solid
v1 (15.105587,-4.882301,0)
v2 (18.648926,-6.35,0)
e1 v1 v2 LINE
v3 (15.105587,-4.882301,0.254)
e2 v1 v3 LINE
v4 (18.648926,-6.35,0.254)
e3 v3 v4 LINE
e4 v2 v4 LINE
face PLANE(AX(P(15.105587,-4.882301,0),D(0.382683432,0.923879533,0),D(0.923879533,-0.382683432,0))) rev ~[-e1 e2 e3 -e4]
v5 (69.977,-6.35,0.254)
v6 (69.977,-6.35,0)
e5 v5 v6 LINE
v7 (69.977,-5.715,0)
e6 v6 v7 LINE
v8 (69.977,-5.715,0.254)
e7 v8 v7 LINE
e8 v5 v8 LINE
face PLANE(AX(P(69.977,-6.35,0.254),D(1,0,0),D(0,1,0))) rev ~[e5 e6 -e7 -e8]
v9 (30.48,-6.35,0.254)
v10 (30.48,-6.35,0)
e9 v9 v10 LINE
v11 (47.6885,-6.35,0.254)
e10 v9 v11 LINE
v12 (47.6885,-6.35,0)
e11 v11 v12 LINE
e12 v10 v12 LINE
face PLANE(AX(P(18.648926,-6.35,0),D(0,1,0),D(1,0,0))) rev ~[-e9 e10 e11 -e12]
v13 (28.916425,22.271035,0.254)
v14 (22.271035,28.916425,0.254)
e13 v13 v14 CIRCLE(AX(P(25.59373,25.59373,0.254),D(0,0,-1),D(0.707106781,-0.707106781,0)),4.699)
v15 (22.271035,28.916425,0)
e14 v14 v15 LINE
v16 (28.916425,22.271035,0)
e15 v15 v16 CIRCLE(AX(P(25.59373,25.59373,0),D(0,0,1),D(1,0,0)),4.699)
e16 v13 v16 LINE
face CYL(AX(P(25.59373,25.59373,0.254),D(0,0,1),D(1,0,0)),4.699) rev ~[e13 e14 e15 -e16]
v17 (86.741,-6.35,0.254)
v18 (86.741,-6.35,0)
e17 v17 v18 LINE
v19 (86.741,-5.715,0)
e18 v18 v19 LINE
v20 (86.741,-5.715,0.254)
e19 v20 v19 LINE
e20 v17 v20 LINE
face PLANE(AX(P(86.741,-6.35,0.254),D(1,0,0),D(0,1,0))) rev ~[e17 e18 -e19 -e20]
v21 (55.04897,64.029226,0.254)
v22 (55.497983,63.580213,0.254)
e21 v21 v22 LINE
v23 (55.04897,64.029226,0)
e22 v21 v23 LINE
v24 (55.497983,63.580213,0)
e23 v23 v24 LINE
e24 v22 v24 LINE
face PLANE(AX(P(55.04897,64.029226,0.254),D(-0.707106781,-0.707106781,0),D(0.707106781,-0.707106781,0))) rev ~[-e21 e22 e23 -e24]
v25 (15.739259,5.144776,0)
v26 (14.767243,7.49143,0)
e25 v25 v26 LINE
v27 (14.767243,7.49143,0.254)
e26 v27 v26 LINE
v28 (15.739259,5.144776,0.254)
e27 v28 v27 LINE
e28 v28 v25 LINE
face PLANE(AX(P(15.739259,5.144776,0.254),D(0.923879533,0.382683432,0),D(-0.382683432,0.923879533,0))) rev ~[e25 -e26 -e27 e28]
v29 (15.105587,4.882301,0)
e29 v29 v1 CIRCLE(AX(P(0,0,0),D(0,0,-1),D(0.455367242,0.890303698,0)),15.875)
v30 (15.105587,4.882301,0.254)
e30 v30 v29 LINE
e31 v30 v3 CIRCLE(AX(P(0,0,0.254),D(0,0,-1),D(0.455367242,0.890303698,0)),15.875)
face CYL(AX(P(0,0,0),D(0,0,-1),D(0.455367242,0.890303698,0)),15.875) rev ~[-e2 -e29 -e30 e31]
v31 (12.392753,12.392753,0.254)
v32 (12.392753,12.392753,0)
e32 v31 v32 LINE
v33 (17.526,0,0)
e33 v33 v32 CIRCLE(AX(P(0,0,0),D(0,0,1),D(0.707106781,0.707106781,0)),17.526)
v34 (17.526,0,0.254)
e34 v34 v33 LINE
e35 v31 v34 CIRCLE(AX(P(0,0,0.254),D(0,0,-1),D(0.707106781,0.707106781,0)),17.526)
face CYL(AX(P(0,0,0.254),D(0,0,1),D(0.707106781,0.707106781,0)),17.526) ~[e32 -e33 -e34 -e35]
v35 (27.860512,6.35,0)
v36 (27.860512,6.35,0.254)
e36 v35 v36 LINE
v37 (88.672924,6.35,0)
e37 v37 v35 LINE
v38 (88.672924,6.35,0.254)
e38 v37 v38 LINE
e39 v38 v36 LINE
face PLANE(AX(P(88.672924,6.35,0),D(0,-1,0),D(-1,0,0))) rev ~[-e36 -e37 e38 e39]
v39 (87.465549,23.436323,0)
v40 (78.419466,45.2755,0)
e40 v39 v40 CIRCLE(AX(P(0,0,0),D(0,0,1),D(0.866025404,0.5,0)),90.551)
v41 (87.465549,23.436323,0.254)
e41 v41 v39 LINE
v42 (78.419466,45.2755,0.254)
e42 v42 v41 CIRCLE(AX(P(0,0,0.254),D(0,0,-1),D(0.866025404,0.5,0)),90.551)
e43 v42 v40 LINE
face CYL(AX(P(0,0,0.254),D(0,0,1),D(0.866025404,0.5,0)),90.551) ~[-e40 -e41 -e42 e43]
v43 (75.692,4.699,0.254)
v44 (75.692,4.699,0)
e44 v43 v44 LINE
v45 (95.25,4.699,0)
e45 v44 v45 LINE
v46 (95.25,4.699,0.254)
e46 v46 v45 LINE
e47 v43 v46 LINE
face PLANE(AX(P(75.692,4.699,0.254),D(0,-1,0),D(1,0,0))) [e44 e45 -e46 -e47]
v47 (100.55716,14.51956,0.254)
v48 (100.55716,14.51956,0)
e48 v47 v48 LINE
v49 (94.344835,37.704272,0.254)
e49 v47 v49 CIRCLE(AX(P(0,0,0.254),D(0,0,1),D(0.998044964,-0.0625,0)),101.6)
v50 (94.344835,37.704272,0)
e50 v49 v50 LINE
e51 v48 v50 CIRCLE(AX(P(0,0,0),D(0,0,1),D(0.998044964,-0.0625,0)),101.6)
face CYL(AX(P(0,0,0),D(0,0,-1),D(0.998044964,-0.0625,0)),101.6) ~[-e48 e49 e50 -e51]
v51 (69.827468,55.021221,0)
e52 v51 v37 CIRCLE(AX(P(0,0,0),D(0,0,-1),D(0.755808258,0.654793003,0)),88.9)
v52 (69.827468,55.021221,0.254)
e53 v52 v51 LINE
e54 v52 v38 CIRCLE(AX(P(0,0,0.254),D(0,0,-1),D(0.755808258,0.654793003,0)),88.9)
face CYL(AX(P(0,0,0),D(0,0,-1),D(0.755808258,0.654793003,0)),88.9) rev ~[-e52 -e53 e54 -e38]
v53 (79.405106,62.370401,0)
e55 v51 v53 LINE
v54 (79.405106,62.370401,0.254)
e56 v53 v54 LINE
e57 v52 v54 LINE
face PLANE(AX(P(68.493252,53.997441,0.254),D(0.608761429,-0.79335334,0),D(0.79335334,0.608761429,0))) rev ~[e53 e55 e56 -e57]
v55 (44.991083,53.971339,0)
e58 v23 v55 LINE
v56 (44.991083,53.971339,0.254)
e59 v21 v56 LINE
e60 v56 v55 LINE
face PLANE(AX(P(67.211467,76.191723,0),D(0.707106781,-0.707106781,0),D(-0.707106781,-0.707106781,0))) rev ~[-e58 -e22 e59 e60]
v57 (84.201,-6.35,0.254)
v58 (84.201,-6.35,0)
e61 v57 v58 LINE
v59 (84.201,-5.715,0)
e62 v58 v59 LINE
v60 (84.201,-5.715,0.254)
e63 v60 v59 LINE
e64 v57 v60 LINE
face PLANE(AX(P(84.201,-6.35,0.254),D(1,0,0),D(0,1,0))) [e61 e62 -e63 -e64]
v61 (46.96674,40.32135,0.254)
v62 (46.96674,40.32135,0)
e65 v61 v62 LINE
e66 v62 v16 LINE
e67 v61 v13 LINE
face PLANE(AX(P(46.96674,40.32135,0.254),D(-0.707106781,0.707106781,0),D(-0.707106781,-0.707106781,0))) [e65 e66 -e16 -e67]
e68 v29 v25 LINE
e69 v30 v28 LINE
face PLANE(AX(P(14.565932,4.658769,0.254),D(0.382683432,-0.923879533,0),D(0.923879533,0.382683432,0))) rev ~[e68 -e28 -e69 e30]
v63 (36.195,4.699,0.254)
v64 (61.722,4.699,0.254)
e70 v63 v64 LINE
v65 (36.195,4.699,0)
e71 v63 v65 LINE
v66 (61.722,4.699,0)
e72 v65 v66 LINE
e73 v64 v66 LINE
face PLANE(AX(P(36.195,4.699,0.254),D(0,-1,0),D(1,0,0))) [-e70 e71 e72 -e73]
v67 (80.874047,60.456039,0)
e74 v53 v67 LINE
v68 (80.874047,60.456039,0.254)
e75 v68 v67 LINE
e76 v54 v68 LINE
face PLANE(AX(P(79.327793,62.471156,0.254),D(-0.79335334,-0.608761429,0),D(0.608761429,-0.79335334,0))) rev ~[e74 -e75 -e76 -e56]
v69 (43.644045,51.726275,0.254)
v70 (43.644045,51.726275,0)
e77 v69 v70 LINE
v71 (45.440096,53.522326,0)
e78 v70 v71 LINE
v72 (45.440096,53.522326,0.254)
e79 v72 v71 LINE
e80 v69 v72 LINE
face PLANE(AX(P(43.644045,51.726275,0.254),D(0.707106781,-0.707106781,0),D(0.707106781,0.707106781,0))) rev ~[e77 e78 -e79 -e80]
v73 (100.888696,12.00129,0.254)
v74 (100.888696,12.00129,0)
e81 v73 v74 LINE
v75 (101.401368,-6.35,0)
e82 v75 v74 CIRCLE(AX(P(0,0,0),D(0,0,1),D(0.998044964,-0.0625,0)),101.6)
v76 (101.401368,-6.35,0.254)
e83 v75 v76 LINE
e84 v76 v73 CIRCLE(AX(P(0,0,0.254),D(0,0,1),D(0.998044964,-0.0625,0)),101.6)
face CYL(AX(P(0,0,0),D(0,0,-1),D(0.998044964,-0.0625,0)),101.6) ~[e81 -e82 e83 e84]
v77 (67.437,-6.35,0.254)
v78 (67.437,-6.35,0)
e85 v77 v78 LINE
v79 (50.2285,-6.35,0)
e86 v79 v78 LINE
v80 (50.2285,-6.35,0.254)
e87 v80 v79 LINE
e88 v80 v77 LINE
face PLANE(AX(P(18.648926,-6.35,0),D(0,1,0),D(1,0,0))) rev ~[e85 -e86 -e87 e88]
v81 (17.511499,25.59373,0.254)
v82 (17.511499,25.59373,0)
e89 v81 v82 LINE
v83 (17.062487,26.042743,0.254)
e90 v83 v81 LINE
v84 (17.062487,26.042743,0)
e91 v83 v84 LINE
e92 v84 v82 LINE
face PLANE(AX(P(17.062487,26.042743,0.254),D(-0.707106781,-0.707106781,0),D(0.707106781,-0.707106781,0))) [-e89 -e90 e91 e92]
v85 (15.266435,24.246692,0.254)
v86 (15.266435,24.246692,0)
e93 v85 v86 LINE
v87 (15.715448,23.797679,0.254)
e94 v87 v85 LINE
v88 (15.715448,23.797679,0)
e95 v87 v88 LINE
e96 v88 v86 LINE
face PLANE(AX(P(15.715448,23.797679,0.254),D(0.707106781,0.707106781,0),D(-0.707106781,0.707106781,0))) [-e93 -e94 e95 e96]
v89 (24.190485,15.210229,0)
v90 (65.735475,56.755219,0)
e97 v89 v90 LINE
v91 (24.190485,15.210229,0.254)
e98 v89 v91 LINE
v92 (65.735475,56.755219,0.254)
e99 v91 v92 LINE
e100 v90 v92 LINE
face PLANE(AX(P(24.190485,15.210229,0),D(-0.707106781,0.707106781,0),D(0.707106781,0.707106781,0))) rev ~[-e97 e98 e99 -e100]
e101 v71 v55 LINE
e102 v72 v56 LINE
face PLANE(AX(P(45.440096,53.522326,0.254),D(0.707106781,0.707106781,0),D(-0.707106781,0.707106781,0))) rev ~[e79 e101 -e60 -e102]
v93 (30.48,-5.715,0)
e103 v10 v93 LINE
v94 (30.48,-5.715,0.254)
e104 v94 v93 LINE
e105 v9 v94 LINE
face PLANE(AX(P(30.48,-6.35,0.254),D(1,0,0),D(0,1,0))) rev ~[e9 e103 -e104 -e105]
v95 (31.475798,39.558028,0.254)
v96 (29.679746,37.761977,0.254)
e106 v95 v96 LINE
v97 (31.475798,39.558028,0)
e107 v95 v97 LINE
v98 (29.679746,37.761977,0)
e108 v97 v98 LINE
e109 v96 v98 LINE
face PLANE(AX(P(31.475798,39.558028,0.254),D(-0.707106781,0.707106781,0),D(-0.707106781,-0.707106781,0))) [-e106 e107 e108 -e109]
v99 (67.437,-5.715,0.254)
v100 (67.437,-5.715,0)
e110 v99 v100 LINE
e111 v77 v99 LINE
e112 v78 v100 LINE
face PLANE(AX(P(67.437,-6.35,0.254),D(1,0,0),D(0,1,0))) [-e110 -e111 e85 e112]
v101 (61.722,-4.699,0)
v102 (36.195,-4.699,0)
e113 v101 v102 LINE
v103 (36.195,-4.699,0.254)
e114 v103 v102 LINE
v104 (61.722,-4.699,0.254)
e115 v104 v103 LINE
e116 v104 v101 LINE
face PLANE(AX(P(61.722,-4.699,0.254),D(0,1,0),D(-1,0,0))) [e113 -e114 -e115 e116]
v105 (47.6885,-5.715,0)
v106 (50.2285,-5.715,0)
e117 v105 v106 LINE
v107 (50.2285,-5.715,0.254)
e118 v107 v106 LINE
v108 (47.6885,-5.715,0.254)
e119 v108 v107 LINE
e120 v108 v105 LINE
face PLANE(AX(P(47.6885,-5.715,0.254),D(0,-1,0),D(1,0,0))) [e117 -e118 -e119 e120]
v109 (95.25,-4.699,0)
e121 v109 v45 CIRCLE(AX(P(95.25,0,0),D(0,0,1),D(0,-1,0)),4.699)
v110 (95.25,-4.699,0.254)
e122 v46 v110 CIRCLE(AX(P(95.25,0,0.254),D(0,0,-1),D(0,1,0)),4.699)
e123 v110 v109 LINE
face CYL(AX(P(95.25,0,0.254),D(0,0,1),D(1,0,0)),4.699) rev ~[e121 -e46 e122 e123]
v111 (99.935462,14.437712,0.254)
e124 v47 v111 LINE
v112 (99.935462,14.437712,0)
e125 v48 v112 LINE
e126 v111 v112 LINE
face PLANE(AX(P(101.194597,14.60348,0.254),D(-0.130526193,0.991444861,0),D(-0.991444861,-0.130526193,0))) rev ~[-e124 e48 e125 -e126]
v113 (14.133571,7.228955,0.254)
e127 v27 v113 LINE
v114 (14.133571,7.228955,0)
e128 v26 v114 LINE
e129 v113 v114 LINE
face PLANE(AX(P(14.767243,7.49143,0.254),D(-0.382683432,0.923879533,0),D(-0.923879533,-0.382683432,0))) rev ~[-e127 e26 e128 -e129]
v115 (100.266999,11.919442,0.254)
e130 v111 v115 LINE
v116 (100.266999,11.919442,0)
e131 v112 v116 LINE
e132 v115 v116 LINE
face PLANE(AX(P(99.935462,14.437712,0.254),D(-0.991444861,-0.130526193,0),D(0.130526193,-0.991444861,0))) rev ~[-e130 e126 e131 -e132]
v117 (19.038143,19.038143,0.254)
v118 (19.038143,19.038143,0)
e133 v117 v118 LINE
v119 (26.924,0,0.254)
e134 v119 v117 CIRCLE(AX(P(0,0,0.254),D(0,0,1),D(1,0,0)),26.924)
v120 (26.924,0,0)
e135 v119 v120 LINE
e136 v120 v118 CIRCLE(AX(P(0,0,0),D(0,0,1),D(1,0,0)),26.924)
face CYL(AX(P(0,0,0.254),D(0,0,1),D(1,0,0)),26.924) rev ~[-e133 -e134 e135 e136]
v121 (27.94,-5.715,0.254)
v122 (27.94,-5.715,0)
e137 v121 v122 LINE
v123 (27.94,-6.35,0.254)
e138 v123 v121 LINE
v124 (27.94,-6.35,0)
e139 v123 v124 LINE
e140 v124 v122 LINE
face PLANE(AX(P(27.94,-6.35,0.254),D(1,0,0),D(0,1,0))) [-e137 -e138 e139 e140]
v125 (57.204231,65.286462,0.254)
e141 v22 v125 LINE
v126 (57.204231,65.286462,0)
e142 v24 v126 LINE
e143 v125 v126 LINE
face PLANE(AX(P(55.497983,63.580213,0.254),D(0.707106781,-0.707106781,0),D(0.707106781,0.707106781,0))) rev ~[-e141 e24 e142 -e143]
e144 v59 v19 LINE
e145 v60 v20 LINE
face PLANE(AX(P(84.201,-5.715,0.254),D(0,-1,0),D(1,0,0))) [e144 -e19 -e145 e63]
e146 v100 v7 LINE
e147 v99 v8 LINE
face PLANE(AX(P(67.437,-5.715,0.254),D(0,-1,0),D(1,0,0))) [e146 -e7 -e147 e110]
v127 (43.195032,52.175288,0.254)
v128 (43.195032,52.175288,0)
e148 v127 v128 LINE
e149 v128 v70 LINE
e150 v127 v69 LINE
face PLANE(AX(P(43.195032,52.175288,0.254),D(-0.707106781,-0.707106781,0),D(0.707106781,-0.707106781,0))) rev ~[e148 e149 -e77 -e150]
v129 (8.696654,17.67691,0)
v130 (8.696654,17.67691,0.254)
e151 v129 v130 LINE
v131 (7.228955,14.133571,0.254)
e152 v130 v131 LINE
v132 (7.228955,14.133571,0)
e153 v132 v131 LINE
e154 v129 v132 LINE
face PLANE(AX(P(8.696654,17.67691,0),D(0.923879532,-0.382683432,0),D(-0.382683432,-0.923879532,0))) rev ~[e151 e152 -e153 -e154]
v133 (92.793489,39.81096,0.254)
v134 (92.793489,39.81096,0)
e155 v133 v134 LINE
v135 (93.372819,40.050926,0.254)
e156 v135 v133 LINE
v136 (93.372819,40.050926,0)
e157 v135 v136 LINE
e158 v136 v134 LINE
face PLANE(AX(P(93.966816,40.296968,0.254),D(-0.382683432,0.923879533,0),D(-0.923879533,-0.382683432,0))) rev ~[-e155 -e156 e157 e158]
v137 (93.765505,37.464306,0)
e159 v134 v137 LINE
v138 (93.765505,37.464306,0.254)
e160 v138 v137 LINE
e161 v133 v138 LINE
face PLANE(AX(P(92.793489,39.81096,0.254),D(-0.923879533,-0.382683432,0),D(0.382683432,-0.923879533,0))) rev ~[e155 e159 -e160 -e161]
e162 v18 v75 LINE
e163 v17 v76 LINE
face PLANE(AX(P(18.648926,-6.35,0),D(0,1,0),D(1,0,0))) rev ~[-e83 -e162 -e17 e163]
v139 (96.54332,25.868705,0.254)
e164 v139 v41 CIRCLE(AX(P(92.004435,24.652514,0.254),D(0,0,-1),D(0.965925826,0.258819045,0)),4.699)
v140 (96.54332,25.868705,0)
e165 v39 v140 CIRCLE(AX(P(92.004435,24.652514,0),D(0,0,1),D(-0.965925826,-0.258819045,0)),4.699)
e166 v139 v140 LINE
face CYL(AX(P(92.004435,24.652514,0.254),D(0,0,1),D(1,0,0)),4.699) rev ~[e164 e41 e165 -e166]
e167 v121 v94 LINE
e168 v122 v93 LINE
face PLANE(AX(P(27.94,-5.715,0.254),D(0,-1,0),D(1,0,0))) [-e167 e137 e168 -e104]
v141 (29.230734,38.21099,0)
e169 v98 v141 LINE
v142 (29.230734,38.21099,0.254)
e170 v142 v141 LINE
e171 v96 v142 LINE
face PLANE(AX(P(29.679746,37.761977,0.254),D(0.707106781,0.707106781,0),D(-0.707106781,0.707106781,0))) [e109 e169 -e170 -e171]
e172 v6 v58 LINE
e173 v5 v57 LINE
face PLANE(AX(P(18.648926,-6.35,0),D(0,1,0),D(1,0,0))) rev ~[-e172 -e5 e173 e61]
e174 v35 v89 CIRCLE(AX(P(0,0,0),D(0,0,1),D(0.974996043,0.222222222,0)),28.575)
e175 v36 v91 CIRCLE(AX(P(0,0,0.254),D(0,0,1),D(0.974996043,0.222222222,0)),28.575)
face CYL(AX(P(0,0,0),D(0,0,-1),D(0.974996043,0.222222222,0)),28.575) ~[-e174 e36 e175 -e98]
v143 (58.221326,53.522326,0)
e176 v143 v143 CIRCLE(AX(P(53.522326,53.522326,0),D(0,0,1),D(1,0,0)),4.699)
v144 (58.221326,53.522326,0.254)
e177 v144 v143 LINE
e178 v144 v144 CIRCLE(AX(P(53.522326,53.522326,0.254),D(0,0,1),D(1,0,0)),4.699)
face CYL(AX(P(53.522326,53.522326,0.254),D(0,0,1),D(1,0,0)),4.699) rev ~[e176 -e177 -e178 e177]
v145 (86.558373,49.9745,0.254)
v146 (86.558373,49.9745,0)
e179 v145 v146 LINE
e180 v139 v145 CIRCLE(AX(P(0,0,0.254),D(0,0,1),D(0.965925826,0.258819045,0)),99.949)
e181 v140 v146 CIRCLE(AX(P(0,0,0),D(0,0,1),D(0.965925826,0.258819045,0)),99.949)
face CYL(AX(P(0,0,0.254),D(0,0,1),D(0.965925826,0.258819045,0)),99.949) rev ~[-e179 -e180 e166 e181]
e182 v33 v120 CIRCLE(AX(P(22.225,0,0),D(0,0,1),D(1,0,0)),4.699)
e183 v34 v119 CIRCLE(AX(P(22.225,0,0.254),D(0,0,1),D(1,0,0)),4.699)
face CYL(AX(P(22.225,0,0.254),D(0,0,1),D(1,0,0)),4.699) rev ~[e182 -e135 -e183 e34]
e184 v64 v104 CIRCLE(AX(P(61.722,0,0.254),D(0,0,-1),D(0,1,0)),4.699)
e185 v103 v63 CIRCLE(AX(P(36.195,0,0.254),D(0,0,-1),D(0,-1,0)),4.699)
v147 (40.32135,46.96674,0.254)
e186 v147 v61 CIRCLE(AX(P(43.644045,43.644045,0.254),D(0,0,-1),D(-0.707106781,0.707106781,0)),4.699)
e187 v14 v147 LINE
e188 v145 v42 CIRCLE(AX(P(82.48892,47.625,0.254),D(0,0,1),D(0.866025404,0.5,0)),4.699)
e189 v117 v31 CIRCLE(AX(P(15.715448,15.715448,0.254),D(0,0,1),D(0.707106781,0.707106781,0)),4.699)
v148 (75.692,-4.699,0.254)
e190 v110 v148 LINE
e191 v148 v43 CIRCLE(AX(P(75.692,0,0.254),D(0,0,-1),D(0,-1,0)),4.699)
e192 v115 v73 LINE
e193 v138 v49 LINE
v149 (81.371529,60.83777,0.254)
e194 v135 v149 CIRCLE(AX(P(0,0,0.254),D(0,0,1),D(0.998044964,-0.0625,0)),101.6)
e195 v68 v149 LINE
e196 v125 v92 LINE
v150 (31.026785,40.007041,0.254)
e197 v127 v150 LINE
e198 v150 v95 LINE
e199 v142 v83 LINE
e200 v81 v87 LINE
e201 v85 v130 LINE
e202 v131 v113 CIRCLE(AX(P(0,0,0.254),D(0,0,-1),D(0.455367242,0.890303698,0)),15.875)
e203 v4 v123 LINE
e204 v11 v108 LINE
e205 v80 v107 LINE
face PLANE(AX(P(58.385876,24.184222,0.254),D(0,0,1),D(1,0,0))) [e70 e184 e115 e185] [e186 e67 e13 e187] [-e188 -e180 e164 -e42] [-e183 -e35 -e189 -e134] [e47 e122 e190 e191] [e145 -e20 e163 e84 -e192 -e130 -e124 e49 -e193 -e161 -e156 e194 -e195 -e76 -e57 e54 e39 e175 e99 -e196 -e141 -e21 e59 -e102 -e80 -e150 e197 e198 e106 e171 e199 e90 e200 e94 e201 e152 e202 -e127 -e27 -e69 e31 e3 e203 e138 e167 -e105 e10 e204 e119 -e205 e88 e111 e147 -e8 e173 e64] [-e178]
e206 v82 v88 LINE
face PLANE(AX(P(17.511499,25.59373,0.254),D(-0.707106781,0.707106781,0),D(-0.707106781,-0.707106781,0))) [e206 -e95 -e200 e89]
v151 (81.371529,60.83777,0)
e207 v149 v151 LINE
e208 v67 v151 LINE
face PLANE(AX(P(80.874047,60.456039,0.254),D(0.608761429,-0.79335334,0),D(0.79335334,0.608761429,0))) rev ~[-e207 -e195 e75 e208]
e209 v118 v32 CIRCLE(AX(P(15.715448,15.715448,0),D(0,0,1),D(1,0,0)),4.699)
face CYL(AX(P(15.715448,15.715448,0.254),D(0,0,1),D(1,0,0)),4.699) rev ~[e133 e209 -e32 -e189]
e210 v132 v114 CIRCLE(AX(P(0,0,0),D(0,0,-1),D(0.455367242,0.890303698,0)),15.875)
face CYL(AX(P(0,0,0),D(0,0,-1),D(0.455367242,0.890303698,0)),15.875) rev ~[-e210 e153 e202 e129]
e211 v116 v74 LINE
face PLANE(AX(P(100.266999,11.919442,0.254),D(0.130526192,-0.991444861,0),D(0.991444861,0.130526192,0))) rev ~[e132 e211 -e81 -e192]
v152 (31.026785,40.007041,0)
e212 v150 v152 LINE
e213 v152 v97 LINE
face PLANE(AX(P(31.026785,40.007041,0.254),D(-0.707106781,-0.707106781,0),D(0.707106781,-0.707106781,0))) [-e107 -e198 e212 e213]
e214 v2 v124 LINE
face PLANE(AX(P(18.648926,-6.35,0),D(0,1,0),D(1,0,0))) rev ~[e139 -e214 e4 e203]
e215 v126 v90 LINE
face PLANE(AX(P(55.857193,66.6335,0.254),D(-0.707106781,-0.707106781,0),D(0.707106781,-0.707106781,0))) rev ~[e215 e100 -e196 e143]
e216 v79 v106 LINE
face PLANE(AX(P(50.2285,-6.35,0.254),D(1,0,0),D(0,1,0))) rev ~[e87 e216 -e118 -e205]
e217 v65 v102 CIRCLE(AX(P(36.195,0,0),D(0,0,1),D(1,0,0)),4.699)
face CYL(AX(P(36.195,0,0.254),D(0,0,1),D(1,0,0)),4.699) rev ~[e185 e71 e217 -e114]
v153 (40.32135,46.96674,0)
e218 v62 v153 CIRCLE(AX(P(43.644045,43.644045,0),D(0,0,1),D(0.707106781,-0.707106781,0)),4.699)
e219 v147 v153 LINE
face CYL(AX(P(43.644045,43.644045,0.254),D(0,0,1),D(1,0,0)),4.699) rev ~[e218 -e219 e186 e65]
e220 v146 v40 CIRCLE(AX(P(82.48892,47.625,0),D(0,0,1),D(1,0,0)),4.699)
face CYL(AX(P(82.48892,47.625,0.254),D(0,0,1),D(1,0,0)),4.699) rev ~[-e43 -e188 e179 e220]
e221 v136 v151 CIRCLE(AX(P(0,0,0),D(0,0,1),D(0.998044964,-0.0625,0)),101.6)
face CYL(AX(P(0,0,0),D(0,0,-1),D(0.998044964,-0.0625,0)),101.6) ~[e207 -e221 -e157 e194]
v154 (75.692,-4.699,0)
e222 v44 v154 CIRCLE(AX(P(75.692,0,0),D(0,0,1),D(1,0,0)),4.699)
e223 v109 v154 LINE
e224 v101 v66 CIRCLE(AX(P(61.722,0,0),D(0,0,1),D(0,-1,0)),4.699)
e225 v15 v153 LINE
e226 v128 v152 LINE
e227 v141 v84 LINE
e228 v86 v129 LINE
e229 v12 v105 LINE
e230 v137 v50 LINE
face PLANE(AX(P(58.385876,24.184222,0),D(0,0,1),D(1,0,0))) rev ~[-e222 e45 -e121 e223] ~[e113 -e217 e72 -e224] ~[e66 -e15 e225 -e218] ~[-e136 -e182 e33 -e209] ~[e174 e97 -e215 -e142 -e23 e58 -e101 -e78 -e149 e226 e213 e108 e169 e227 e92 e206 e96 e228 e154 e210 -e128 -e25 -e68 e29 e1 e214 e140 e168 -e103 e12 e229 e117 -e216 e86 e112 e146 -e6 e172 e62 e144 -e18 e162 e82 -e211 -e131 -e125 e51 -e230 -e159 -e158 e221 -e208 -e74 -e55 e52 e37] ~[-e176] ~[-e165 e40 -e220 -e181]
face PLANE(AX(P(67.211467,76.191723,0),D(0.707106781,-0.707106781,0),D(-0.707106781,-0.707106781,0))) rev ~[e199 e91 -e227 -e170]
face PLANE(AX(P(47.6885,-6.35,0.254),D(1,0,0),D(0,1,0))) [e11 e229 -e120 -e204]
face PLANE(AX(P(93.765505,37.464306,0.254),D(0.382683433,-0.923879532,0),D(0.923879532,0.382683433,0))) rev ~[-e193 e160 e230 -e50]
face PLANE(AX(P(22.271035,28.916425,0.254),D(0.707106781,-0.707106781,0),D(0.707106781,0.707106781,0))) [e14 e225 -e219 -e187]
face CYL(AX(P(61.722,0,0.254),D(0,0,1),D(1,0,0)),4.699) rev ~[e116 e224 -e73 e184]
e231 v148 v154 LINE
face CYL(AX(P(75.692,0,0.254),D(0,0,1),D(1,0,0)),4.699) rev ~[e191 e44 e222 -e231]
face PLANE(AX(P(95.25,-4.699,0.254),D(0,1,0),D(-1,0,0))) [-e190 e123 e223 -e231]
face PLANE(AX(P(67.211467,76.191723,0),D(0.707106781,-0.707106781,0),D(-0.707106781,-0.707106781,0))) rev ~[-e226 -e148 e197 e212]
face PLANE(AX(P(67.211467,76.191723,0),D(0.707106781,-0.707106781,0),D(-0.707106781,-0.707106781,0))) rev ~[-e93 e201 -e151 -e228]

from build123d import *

# Parameters (mm, degrees)
BOSS_EXTRUDE1_DEPTH = 0.254
SKETCH2_R           = 4.699
CUT_EXTRUDE1_DEPTH  = 1.254
SKETCH3_W           = 2.54
SKETCH3_H           = 0.635
CUT_EXTRUDE2_DEPTH  = 1.254
CUT_EXTRUDE4_DEPTH  = 1.254
CUT_EXTRUDE5_DEPTH  = 1.254


with BuildPart() as part:
    # Sketch1 → Boss-Extrude1 (new body)
    with BuildSketch(Plane.XY):
        with BuildLine():
            Line((67.21146711, 76.191723231), (8.696654013, 17.676910134))
            Line((8.696654013, 17.676910134), (7.228954972, 14.133571205))
            ThreePointArc((7.228954972, 14.133571205), (14.666587579, 6.075099489), (15.105587123, -4.88230096))
            Line((15.105587123, -4.88230096), (18.648926052, -6.35))
            Line((18.648926052, -6.35), (101.401368334, -6.35))
            ThreePointArc((101.401368334, -6.35), (93.866160503, 38.880636728), (67.21146711, 76.191723231))
        make_face()
        with BuildLine():
            Line((88.672924278, 6.35), (27.86051193, 6.35))
            ThreePointArc((27.86051193, 6.35), (26.399857642, 10.93517908), (24.190484974, 15.210228852))
            Line((24.190484974, 15.210228852), (67.191354125, 58.211098004))
            ThreePointArc((67.191354125, 58.211098004), (82.13289044, 34.020557137), (88.672924278, 6.35))
        make_face(mode=Mode.SUBTRACT)
    extrude(amount=BOSS_EXTRUDE1_DEPTH)

    # Sketch2 → Cut-Extrude1 (cut, through all)
    with BuildSketch(Plane.XY.offset(0.254)):
        with Locations((22.225, 0)):
            Circle(SKETCH2_R)
        with Locations((36.195, 0)):
            Circle(SKETCH2_R)
        with Locations((61.722, 0)):
            Circle(SKETCH2_R)
        with Locations((75.692, 0)):
            Circle(SKETCH2_R)
        with Locations((95.25, 0)):
            Circle(SKETCH2_R)
        with Locations((15.715448212, 15.715448212)):
            Circle(SKETCH2_R)
        with Locations((25.593729945, 25.593729945)):
            Circle(SKETCH2_R)
        with Locations((43.644044748, 43.644044748)):
            Circle(SKETCH2_R)
        with Locations((53.522326482, 53.522326482)):
            Circle(SKETCH2_R)
        with Locations((92.004434954, 24.652514046)):
            Circle(SKETCH2_R)
        with Locations((82.48891971, 47.625)):
            Circle(SKETCH2_R)
        with Locations((67.351920908, 67.351920908)):
            Circle(SKETCH2_R)
    extrude(amount=-CUT_EXTRUDE1_DEPTH, mode=Mode.SUBTRACT)

    # Sketch3 → Cut-Extrude2 (cut, through all)
    with BuildSketch(Plane.XY.offset(0.254)):
        Polygon((15.266435406, 24.246691527), (17.06248663, 26.042742751), (17.511499436, 25.593729945), (15.715448212, 23.797678721), align=None)
        Polygon((44.991083167, 53.971339288), (43.195031942, 52.175288063), (43.644044748, 51.726275257), (45.440095973, 53.522326482), align=None)
        with Locations((29.21, -6.0325)):
            Rectangle(SKETCH3_W, SKETCH3_H)
        with Locations((68.707, -6.0325)):
            Rectangle(SKETCH3_W, SKETCH3_H)
        Polygon((29.230733674, 38.210989795), (31.026784898, 40.007041019), (31.475797704, 39.558028213), (29.67974648, 37.761976989), align=None)
        Polygon((56.845021246, 65.825277367), (55.048970022, 64.029226143), (55.497982828, 63.580213337), (57.294034052, 65.376264561), align=None)
        with Locations((48.9585, -6.0325)):
            Rectangle(SKETCH3_W, SKETCH3_H)
        with Locations((85.471, -6.0325)):
            Rectangle(SKETCH3_W, SKETCH3_H)
        Polygon((99.935462164, 14.437711971), (100.266998693, 11.919442024), (101.526133667, 12.085210288), (101.194597138, 14.603480236), align=None)
        Polygon((93.765504959, 37.464305742), (94.938831965, 37.950313702), (93.966816047, 40.296967714), (92.793489041, 39.810959755), align=None)
        Polygon((79.327792988, 62.471156422), (80.874047017, 60.456038938), (81.88160576, 61.229165953), (80.33535173, 63.244283437), align=None)
        Polygon((13.593916116, 7.005422516), (14.565932035, 4.658768503), (15.739259041, 5.144776462), (14.767243123, 7.491430475), align=None)
    extrude(amount=-CUT_EXTRUDE2_DEPTH, mode=Mode.SUBTRACT)

    # Sketch6 → Cut-Extrude4 (cut, through all)
    with BuildSketch(Plane.XY.offset(0.254)):
        with BuildLine():
            Line((22.27103518, 28.91642471), (40.321349984, 46.966739513))
            ThreePointArc((40.321349984, 46.966739513), (46.966739513, 46.966739513), (46.966739513, 40.321349984))
            Line((46.966739513, 40.321349984), (28.91642471, 22.27103518))
            ThreePointArc((28.91642471, 22.27103518), (22.27103518, 22.27103518), (22.27103518, 28.91642471))
        make_face()
        with BuildLine():
            Line((61.722, -4.699), (36.195, -4.699))
            ThreePointArc((36.195, -4.699), (31.496, 0), (36.195, 4.699))
            Line((36.195, 4.699), (61.722, 4.699))
            ThreePointArc((61.722, 4.699), (66.421, 0), (61.722, -4.699))
        make_face()
        with BuildLine():
            Line((95.25, -4.699), (75.692, -4.699))
            ThreePointArc((75.692, -4.699), (70.993, 0), (75.692, 4.699))
            Line((75.692, 4.699), (95.25, 4.699))
            ThreePointArc((95.25, 4.699), (99.949, 0), (95.25, -4.699))
        make_face()
        with BuildLine():
            ThreePointArc((26.924, 0), (24.874532533, 10.303368733), (19.038142977, 19.038142977))
            ThreePointArc((19.038142977, 19.038142977), (12.392753447, 19.038142977), (12.392753447, 12.392753447))
            ThreePointArc((12.392753447, 12.392753447), (16.191912687, 6.706909836), (17.526, 0))
            ThreePointArc((17.526, 0), (22.225, -4.699), (26.924, 0))
        make_face()
        with BuildLine():
            ThreePointArc((96.543320412, 25.868704739), (92.340835395, 38.248826381), (86.558373083, 49.9745))
            ThreePointArc((86.558373083, 49.9745), (80.13941971, 51.694453372), (78.419466338, 45.2755))
            ThreePointArc((78.419466338, 45.2755), (83.658215548, 34.652367484), (87.465549496, 23.436323353))
            ThreePointArc((87.465549496, 23.436323353), (93.220625647, 20.113628588), (96.543320412, 25.868704739))
        make_face()
    extrude(amount=-CUT_EXTRUDE4_DEPTH, mode=Mode.SUBTRACT)

    # Sketch5 → Cut-Extrude5 (cut, through all)
    with BuildSketch(Plane.XY.offset(0.254)):
        Polygon((55.857193073, 66.633500418), (68.493252435, 53.997441057), (81.501289898, 63.978859263), (67.351920908, 78.128228253), align=None)
    extrude(amount=-CUT_EXTRUDE5_DEPTH, mode=Mode.SUBTRACT)


solid = part.part
